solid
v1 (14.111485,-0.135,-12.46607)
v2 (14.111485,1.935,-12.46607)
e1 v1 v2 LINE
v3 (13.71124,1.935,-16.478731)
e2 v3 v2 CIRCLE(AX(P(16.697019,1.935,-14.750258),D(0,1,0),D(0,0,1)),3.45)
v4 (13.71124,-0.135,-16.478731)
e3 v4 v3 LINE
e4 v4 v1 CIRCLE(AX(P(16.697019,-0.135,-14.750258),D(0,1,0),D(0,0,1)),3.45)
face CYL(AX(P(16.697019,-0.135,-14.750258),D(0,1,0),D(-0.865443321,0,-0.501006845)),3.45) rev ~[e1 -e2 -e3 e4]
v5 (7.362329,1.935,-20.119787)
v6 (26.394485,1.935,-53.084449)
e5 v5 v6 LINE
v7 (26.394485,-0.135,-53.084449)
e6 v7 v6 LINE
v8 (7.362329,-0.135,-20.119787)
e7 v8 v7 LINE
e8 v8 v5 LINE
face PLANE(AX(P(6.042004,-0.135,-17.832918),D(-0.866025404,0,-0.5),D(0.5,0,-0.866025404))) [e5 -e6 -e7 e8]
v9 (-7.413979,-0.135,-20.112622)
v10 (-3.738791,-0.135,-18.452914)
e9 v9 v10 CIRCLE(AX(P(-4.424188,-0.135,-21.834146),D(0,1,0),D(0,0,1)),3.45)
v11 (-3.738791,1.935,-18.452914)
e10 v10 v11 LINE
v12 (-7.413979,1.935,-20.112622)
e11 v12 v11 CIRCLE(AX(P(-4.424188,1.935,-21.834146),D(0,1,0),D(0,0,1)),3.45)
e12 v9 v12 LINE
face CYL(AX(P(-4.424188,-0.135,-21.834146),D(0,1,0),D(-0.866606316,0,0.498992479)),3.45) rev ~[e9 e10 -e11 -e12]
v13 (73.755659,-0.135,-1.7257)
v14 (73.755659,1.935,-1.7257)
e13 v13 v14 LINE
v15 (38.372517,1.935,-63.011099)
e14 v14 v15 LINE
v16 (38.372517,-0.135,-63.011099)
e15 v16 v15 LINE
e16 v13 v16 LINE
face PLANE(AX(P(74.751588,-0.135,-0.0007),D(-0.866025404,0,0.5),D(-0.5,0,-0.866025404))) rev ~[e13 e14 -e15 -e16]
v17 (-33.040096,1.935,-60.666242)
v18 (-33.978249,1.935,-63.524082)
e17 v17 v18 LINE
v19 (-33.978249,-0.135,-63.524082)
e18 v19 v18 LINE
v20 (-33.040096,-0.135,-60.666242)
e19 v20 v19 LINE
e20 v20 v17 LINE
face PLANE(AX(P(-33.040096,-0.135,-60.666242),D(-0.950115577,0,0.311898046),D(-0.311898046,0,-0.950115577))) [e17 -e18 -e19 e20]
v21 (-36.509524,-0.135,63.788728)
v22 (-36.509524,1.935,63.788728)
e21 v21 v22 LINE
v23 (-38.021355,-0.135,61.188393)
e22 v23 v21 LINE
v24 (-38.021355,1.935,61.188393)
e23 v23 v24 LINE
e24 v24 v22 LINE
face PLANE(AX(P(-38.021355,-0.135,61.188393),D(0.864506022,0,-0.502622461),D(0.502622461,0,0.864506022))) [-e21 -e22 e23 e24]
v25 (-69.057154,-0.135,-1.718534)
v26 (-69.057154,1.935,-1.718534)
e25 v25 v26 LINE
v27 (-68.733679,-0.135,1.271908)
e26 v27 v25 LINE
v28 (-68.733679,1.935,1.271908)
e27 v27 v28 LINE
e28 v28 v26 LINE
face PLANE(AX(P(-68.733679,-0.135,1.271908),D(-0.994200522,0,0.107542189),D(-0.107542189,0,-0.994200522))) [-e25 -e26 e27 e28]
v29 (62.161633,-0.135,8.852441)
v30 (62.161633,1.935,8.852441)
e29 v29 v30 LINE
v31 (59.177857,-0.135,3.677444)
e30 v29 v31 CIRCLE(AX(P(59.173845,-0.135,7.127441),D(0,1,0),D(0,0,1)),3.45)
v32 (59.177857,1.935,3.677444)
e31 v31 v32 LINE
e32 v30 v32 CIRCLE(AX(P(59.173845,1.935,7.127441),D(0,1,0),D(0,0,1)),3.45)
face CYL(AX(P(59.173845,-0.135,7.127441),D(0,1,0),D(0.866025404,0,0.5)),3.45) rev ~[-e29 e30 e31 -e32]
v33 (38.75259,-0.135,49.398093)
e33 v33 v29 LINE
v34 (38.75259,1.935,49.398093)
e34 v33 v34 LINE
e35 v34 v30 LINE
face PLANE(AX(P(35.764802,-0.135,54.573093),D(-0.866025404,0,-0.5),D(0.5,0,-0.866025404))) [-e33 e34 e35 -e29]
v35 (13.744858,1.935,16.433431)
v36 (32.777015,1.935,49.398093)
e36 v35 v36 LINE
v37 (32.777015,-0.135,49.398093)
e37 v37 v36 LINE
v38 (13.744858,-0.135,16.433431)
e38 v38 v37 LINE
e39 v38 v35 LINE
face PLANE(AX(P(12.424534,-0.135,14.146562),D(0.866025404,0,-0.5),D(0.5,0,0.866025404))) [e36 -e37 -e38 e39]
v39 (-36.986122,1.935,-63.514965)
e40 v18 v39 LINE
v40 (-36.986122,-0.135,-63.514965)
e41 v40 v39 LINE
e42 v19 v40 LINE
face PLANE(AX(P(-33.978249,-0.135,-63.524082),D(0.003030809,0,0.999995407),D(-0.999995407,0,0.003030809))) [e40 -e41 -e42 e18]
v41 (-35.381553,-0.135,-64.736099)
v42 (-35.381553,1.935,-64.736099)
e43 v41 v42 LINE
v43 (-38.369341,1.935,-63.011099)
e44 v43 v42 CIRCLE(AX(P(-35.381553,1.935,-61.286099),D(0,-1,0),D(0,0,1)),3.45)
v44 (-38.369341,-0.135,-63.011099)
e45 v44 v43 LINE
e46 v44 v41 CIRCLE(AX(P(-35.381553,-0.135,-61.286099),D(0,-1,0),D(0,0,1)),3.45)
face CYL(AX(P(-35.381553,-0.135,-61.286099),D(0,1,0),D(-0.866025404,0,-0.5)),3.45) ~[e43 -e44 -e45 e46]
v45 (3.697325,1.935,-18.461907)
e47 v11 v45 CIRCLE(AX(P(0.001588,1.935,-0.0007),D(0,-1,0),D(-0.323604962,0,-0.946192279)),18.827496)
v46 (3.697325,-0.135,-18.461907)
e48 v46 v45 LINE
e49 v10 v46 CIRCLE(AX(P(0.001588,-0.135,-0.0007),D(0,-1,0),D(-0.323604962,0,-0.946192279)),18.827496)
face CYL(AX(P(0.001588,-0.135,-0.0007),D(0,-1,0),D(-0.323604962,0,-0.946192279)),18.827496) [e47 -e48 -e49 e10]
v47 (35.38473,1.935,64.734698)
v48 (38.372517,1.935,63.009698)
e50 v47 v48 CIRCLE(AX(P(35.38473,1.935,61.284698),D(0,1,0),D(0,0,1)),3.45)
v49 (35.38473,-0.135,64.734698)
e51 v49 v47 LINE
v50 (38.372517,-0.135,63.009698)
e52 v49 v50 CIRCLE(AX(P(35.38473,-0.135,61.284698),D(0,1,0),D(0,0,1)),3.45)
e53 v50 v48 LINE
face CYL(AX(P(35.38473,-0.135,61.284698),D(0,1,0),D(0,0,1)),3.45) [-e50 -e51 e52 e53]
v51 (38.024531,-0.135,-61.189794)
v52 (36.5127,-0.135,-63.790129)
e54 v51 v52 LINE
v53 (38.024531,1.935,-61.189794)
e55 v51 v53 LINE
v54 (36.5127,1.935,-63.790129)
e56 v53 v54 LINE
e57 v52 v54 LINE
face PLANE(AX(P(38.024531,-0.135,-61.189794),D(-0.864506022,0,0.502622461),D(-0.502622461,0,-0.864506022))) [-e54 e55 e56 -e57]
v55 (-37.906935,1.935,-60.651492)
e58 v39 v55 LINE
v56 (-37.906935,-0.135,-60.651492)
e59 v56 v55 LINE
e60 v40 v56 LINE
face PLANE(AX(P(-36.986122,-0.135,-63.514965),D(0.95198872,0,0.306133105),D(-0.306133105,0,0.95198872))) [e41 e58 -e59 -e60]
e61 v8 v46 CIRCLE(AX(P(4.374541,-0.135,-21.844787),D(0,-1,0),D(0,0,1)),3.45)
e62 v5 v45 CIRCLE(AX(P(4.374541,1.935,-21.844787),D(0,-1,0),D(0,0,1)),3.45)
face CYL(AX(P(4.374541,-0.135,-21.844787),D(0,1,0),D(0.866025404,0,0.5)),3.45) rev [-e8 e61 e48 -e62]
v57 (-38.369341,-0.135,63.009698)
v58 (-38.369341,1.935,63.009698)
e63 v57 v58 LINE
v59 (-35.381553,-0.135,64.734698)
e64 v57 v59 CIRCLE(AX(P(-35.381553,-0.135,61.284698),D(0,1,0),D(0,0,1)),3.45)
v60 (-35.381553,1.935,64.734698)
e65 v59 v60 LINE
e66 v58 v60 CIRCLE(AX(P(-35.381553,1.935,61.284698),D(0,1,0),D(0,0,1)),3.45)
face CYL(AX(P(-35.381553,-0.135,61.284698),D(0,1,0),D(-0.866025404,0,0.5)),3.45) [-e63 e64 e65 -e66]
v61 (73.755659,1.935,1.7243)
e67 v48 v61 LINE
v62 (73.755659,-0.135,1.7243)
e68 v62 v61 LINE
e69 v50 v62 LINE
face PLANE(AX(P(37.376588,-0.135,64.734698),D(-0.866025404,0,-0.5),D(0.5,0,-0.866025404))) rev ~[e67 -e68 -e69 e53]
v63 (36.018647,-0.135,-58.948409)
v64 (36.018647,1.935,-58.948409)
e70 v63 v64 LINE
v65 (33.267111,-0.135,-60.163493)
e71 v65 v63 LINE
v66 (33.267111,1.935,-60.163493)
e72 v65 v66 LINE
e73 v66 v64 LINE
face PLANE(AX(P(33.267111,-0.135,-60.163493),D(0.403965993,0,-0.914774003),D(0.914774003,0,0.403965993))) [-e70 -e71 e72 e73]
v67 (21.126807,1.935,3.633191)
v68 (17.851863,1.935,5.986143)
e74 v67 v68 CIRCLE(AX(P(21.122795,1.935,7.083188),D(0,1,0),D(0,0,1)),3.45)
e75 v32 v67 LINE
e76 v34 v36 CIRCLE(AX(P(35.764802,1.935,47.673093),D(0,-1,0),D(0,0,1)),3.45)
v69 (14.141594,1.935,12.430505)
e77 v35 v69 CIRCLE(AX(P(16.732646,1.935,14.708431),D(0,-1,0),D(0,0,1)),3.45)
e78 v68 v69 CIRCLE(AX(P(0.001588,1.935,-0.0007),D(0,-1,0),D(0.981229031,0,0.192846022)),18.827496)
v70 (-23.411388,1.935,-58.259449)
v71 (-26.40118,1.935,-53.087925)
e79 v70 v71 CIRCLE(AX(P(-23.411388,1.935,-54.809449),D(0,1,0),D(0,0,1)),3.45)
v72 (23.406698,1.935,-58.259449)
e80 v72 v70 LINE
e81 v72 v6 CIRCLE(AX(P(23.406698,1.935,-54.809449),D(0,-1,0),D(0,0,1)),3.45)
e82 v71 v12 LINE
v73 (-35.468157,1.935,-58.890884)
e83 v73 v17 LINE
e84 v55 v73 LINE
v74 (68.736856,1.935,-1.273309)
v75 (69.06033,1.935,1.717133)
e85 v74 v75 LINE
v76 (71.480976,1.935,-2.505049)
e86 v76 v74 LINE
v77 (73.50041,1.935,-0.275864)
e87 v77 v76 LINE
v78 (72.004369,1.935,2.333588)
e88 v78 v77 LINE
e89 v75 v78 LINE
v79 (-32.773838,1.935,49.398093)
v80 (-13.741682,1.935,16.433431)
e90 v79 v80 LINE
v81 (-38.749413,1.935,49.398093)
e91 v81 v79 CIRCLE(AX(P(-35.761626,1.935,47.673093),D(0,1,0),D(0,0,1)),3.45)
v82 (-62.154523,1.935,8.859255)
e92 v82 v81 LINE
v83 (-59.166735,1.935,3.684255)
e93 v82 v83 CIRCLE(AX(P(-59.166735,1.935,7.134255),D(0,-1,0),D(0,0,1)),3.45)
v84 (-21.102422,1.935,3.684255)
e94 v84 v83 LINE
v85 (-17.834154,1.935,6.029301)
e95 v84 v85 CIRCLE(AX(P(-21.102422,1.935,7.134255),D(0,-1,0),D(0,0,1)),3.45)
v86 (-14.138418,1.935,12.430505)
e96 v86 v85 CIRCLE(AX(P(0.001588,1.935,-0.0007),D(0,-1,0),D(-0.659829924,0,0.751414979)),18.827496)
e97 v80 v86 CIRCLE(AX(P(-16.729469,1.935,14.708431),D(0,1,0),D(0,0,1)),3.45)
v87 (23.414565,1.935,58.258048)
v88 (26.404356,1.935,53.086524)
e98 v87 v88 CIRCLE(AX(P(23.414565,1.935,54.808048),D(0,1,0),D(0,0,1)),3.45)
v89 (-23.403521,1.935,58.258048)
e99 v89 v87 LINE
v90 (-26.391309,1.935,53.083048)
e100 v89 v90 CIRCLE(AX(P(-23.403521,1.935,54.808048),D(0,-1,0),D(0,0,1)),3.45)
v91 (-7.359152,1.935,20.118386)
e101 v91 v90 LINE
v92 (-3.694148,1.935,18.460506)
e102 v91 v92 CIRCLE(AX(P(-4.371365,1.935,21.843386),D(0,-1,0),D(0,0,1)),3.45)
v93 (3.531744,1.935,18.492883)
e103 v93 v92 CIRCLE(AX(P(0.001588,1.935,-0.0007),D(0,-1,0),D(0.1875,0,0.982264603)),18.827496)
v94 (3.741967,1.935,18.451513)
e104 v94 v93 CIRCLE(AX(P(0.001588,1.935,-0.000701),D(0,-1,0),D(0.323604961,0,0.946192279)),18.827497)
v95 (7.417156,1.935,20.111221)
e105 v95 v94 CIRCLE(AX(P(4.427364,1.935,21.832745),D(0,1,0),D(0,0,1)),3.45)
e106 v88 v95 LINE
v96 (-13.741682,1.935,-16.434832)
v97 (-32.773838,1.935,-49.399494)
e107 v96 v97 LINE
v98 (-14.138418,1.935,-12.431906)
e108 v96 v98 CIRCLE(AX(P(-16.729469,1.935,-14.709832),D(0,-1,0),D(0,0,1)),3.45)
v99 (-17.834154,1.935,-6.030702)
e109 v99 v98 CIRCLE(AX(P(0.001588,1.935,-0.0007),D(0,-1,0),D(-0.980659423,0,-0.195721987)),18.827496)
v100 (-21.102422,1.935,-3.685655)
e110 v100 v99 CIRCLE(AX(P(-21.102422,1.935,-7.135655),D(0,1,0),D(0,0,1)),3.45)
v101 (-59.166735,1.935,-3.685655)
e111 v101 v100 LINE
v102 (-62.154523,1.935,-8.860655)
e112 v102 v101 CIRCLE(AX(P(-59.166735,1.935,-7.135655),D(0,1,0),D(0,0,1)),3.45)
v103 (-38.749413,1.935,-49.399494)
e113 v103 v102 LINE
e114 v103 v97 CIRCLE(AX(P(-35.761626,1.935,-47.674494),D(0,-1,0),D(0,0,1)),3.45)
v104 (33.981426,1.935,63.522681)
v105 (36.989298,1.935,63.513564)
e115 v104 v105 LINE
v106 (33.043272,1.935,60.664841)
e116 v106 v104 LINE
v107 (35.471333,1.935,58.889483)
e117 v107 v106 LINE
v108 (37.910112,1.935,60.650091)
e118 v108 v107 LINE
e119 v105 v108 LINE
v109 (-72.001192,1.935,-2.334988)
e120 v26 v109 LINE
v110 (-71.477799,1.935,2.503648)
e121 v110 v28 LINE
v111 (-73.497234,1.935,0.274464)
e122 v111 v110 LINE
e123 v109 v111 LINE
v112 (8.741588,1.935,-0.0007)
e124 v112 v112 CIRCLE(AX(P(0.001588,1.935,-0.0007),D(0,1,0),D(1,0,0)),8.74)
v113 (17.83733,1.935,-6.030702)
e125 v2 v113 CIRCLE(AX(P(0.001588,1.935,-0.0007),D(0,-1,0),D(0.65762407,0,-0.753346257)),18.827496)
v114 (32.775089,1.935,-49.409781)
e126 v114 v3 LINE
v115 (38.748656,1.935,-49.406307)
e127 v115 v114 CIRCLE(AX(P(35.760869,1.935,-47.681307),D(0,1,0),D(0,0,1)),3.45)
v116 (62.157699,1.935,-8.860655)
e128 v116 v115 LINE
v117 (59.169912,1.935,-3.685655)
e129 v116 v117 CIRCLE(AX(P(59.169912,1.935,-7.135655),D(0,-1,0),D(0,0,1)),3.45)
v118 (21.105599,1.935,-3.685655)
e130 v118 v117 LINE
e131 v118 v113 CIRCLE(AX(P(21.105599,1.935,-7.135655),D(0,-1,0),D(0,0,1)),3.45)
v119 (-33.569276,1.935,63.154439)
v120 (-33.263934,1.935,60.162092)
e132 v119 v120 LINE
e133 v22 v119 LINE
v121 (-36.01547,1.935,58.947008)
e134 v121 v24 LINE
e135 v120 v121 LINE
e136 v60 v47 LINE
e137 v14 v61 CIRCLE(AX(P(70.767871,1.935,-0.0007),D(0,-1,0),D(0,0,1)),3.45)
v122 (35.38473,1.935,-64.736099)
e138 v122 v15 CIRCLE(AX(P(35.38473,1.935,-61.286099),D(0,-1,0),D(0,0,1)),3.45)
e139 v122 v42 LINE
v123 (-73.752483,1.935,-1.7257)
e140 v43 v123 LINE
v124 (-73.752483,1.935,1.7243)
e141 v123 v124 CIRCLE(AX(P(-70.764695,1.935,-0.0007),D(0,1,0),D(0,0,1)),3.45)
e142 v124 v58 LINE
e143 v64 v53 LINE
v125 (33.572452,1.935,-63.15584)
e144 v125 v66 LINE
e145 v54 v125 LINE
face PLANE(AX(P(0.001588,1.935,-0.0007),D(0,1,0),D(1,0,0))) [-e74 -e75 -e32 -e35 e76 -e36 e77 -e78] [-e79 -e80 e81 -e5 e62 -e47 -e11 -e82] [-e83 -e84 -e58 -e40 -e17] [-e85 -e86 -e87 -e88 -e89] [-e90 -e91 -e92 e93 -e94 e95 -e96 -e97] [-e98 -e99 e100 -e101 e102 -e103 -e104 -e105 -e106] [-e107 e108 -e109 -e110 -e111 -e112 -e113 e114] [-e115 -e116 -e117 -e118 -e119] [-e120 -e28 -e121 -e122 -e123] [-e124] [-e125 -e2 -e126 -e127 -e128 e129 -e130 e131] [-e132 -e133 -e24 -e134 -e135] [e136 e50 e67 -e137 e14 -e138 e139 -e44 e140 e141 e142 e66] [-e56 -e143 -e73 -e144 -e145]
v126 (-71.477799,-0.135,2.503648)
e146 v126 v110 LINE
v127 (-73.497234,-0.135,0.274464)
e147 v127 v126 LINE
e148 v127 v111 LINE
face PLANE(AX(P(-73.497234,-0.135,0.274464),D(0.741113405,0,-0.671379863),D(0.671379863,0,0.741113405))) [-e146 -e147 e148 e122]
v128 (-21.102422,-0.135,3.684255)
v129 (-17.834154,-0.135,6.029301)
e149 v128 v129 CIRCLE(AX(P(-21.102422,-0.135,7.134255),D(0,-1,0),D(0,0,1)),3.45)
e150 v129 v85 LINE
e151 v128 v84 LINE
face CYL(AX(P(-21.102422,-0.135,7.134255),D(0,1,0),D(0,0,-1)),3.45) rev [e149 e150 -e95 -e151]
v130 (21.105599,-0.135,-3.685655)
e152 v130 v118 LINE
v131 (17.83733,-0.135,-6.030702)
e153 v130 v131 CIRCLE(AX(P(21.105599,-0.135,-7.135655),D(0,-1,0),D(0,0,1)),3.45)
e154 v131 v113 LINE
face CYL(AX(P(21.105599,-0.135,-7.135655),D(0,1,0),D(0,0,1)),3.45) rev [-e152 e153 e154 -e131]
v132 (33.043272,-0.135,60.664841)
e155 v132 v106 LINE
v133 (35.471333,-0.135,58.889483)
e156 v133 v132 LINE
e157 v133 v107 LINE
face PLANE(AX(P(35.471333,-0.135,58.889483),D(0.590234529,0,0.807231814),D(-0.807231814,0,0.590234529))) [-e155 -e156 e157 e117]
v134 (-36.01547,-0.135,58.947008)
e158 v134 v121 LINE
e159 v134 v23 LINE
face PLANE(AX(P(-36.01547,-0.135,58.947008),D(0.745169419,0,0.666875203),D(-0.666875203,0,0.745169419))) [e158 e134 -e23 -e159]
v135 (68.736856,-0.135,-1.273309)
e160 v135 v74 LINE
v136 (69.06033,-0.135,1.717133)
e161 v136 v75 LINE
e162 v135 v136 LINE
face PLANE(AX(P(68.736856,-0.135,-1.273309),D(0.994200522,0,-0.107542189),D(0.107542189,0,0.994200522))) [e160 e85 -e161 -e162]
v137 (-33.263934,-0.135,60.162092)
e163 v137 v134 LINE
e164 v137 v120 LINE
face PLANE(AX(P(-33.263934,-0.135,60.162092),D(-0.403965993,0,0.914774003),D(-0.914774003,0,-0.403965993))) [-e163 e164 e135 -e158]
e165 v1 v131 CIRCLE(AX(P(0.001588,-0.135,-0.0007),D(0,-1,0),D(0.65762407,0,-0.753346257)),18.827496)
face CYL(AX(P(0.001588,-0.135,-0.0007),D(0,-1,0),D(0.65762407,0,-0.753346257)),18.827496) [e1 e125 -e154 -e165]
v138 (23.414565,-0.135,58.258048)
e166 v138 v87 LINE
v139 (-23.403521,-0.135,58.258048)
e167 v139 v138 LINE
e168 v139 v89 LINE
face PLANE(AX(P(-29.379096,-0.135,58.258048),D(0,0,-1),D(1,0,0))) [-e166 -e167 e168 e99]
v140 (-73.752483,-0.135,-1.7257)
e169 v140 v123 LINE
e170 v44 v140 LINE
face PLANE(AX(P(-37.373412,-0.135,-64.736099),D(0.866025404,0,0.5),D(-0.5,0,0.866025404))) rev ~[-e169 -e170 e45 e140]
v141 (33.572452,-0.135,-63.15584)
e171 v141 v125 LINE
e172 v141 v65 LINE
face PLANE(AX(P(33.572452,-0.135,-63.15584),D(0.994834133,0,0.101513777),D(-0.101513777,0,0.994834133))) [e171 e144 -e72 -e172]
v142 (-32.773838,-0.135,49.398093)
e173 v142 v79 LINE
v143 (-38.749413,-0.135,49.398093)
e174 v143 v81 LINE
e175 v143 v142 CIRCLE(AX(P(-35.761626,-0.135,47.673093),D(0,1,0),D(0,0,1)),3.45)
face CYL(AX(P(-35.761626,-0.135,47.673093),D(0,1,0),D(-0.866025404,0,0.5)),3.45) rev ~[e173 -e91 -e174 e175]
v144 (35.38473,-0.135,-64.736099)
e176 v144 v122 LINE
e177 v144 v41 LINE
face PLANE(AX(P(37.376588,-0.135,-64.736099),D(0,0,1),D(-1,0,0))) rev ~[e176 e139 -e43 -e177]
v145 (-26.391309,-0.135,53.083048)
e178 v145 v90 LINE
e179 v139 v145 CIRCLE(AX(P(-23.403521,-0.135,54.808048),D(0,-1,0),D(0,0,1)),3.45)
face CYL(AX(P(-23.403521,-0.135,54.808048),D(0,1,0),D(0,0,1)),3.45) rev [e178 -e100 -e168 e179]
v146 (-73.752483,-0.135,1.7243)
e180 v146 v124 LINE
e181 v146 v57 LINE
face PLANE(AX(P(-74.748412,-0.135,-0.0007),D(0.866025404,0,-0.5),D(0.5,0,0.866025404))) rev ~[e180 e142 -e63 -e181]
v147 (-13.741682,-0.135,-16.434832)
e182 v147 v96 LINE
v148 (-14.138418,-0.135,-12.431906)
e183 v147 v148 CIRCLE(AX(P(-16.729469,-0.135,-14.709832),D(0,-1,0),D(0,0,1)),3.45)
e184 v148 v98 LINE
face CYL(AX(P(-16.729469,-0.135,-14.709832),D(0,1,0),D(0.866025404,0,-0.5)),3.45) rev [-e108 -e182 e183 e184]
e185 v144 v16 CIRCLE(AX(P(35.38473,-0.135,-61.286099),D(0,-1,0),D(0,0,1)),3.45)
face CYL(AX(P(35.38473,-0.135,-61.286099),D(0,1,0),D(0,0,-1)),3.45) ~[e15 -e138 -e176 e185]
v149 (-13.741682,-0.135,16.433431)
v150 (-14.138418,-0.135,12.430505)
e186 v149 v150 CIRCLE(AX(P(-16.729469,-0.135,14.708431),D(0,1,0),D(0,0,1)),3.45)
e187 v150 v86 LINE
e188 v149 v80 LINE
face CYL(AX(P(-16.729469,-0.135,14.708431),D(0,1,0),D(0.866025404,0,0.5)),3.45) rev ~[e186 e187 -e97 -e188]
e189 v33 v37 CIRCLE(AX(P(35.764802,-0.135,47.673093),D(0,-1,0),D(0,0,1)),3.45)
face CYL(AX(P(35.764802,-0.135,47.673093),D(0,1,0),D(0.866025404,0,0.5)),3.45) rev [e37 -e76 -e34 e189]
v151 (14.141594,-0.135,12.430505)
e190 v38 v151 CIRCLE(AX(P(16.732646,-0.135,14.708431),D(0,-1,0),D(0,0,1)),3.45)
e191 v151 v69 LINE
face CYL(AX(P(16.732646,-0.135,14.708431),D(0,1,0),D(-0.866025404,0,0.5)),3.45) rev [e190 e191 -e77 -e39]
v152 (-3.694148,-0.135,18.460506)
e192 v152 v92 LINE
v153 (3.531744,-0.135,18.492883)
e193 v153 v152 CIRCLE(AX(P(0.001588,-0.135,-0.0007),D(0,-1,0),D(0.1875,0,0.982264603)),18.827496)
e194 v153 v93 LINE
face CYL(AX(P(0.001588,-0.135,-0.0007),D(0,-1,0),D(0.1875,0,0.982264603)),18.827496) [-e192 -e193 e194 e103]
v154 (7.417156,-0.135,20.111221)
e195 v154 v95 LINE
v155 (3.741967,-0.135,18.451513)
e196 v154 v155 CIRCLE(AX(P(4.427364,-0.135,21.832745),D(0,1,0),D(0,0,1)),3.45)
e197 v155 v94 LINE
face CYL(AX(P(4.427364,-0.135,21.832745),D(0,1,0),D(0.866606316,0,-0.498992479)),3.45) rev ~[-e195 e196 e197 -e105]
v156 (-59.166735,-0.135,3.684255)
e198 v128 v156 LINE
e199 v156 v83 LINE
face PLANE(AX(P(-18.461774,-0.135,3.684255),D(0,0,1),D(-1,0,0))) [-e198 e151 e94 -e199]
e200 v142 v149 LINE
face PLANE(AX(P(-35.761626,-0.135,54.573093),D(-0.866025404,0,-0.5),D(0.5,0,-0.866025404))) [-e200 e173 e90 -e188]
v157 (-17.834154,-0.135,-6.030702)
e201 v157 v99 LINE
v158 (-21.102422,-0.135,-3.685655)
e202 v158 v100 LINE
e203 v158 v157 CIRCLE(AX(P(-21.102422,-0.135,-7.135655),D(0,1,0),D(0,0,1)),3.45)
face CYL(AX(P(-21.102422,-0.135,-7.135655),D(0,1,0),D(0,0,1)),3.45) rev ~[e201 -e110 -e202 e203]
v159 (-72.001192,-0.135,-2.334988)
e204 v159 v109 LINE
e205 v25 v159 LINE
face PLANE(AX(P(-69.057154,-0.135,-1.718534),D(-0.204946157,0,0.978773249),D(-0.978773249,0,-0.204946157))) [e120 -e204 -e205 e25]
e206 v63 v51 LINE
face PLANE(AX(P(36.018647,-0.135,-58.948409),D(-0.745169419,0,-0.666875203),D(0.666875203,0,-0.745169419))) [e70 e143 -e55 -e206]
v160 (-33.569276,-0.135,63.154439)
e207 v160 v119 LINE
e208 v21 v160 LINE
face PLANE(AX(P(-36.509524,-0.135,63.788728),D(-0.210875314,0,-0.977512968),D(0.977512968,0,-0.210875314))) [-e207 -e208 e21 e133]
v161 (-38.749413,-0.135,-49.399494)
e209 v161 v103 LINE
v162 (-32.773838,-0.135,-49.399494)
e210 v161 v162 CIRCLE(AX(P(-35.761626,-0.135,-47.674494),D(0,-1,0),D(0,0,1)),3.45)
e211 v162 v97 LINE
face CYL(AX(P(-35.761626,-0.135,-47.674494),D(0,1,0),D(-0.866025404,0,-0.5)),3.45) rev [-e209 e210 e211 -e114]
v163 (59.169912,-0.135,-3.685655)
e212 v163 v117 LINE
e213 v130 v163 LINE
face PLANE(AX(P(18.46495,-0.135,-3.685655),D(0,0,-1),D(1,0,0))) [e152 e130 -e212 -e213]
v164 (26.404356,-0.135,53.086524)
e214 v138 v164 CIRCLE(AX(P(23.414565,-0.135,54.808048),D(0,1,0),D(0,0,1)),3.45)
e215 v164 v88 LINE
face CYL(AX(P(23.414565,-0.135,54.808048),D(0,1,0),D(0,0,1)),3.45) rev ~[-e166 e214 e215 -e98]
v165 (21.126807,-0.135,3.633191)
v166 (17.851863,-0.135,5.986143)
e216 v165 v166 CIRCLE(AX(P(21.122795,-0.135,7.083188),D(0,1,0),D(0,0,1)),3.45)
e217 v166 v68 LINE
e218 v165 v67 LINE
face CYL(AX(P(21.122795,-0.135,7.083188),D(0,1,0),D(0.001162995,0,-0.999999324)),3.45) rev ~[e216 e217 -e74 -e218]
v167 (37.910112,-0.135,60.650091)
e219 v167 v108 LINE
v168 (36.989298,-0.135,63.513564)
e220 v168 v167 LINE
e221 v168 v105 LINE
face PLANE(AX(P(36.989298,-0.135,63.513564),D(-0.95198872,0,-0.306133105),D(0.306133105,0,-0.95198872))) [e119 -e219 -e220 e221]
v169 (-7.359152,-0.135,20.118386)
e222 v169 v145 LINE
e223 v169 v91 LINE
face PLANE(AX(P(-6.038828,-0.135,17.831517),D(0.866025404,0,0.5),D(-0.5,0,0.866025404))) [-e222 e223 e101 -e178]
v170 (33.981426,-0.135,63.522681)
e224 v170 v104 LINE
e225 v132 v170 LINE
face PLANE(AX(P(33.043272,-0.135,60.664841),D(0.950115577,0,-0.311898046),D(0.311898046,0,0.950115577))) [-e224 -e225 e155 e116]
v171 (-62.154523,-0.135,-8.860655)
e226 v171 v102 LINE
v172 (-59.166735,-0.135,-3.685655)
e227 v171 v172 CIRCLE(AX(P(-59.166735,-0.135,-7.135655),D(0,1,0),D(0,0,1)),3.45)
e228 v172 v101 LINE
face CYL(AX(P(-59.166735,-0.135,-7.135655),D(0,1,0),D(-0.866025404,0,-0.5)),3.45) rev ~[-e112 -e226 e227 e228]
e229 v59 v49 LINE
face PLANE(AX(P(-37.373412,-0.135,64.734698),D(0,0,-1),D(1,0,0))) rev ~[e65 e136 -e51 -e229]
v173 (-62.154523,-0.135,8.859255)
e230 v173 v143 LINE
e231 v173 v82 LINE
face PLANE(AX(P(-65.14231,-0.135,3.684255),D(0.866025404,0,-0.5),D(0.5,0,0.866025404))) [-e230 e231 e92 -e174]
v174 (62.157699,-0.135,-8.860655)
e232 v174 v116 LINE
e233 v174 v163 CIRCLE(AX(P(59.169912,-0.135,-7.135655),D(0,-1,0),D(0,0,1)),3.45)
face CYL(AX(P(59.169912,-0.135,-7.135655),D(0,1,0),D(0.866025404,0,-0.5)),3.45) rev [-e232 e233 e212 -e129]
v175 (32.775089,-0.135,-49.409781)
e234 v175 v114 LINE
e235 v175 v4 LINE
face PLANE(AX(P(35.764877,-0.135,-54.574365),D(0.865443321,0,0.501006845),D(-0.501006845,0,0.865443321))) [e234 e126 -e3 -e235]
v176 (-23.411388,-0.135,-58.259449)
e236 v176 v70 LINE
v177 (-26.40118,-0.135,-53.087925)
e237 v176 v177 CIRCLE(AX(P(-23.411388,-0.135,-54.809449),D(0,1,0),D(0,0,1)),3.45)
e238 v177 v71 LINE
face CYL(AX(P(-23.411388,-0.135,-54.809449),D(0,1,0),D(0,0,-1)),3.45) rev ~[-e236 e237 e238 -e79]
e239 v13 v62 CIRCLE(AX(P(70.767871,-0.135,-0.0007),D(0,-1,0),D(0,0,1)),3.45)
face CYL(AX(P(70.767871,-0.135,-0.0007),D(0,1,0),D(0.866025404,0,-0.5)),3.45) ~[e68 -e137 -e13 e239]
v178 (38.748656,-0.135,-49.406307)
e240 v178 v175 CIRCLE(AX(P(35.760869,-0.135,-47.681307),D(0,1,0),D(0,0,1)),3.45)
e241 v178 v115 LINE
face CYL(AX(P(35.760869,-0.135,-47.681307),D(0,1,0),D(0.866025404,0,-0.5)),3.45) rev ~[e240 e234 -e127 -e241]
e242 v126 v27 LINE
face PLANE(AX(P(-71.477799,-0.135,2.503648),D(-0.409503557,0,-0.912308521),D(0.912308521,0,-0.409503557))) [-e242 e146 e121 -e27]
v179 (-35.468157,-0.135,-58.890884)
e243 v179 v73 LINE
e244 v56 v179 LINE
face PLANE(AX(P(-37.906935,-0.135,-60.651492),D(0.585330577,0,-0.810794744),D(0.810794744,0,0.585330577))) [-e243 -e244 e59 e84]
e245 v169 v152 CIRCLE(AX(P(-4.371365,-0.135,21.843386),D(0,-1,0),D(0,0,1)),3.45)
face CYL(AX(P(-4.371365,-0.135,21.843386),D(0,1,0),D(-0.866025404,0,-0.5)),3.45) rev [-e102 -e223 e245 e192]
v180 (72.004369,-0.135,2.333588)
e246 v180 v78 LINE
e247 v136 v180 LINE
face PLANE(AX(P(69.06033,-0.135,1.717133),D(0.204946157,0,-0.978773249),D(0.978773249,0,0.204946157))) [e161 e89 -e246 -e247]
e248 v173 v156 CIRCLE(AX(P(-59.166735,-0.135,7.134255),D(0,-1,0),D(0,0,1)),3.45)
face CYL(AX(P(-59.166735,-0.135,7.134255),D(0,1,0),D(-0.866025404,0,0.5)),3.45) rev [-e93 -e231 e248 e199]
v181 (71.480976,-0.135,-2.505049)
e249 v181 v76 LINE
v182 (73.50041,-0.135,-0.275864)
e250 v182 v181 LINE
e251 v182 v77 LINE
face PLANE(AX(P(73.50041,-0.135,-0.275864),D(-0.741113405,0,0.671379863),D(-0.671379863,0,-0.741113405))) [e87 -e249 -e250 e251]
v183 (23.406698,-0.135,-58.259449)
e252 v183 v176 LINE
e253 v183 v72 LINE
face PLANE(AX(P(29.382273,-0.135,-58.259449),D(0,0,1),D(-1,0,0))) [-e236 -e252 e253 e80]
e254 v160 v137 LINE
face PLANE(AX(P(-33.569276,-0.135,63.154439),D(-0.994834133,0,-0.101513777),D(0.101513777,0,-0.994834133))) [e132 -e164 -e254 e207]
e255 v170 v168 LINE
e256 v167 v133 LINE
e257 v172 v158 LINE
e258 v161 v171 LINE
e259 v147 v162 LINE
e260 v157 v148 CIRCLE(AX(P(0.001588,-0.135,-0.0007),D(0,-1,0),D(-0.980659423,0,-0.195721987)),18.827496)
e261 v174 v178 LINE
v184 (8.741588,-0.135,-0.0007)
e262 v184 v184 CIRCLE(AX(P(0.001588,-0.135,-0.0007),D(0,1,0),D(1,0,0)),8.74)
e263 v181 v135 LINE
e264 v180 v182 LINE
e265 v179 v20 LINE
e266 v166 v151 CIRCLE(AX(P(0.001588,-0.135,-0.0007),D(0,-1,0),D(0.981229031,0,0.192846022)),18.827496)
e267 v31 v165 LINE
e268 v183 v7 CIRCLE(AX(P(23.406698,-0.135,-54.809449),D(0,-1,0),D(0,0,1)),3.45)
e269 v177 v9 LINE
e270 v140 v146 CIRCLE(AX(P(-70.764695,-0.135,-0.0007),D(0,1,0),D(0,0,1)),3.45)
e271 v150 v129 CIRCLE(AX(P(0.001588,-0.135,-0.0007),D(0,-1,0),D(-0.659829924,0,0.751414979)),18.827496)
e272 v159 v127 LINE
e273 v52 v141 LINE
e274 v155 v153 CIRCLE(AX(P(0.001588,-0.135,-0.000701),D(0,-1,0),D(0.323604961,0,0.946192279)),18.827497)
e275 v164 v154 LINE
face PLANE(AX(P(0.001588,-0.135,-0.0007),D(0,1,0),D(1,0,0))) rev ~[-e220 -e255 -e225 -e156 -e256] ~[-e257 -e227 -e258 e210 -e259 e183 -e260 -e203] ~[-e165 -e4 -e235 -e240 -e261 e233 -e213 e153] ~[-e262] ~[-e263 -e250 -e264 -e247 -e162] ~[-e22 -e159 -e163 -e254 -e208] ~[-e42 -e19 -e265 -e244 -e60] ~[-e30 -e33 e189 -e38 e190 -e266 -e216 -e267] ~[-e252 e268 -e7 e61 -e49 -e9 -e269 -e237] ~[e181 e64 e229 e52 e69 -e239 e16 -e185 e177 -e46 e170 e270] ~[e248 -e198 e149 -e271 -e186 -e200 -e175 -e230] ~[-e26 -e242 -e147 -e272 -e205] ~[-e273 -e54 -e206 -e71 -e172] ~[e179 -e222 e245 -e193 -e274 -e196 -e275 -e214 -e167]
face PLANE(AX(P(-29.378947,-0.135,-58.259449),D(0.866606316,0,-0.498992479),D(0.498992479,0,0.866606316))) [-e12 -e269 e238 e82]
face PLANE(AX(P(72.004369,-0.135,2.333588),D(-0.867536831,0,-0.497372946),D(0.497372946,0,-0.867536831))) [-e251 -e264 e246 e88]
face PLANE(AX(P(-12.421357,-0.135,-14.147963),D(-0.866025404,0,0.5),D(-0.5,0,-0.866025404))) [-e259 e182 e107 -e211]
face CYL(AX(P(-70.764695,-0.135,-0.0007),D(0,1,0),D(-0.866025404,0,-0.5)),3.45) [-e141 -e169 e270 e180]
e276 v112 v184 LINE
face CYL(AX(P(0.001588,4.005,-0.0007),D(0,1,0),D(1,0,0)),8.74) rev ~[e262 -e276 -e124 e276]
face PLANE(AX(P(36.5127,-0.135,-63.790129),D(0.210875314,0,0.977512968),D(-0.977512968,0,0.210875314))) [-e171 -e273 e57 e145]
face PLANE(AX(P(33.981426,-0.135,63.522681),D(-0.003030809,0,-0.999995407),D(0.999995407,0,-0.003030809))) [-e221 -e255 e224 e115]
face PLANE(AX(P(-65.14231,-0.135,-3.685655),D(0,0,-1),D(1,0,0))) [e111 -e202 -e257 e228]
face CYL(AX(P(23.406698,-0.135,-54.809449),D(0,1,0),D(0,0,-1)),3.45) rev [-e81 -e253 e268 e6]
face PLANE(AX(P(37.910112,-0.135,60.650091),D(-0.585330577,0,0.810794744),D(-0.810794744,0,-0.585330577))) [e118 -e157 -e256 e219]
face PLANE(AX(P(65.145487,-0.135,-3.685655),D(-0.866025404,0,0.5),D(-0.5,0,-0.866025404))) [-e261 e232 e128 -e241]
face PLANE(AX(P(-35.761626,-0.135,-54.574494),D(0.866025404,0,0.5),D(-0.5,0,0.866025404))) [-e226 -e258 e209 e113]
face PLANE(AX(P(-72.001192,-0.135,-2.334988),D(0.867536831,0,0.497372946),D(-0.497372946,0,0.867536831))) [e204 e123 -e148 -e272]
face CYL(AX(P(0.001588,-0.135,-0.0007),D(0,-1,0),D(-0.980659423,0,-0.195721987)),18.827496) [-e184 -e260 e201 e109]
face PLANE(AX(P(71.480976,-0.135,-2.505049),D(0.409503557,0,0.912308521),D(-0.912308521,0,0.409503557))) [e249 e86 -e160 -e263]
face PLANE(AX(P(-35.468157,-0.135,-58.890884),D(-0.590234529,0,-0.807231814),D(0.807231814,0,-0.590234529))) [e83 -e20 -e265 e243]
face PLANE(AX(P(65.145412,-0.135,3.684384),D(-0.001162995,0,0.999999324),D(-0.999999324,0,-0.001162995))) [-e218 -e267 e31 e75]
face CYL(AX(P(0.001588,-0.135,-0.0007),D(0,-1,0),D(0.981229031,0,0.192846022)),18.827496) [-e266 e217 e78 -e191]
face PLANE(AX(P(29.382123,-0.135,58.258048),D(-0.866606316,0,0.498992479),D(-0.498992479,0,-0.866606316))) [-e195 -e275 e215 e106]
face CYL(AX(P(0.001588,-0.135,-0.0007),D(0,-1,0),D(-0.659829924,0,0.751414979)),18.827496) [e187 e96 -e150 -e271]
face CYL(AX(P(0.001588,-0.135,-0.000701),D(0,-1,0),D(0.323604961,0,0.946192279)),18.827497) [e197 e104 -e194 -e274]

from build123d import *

# Parameters (mm, degrees)
BOSS_EXTRUDE1_DEPTH = 1.8
FILLET1_R           = 3
FILLET2_R           = 3
SKETCH3_R           = 7.6
CUT_EXTRUDE1_DEPTH  = 10
SCALE1_SCALE        = 1.15


with BuildPart() as part:
    # Sketch1 → Boss-Extrude1 (new body)
    with BuildSketch(Plane(origin=(0, 0, 0), x_dir=(1, 0, 0), z_dir=(0, 1, 0))):
        Polygon((-32.5, 56.291651246), (-65, 0), (-32.5, -56.291651246), (32.5, -56.291651246), (65, 0), (32.5, 56.291651246), align=None)
        with BuildLine():
            Line((-31.098446917, 47.455472674), (-56.646868343, 3.204308711))
            Line((-56.646868343, 3.204308711), (-16.055097208, 3.204308711))
            ThreePointArc((-16.055097208, 3.204308711), (-14.178339307, 8.185868015), (-10.802561349, 12.301967686))
            Line((-10.802561349, 12.301967686), (-31.098446917, 47.455472674))
        make_face(mode=Mode.SUBTRACT)
        with BuildLine():
            Line((-56.646868343, -3.204308711), (-31.098446917, -47.455472674))
            Line((-31.098446917, -47.455472674), (-10.802561349, -12.301967686))
            ThreePointArc((-10.802561349, -12.301967686), (-14.178339307, -8.185868015), (-16.055097208, -3.204308711))
            Line((-16.055097208, -3.204308711), (-56.646868343, -3.204308711))
        make_face(mode=Mode.SUBTRACT)
        with BuildLine():
            Line((-25.548421426, -50.659781385), (3, -50.659781385))
            Line((3, -50.659781385), (25.548291416, -50.659781385))
            Line((25.548291416, -50.659781385), (5.29797501, -15.490810226))
            ThreePointArc((5.29797501, -15.490810226), (4.194244938, -15.825360977), (3.069700506, -16.08137679))
            ThreePointArc((3.069700506, -16.08137679), (-1.128661889, -16.332784913), (-5.252535858, -15.506276397))
            Line((-5.252535858, -15.506276397), (-25.548421426, -50.659781385))
        make_face(mode=Mode.SUBTRACT)
        with BuildLine():
            Line((31.098446917, -47.455472674), (56.646803338, -3.204421303))
            Line((56.646803338, -3.204421303), (16.064422686, -3.157224166))
            ThreePointArc((16.064422686, -3.157224166), (14.190323862, -8.165074976), (10.802561349, -12.301967686))
            Line((10.802561349, -12.301967686), (31.098446917, -47.455472674))
        make_face(mode=Mode.SUBTRACT)
        with BuildLine():
            Line((56.646868343, 3.204308711), (31.098511922, 47.455360082))
            Line((31.098511922, 47.455360082), (10.766447676, 12.33358606))
            ThreePointArc((10.766447676, 12.33358606), (14.166324284, 8.206643464), (16.055097208, 3.204308711))
            Line((16.055097208, 3.204308711), (56.646868343, 3.204308711))
        make_face(mode=Mode.SUBTRACT)
        with BuildLine():
            Line((25.548421426, 50.659781385), (-25.548291416, 50.659781385))
            Line((-25.548291416, 50.659781385), (-5.29797501, 15.490810226))
            ThreePointArc((-5.29797501, 15.490810226), (-0.023999578, 16.37171844), (5.252535858, 15.506276397))
            Line((5.252535858, 15.506276397), (25.548421426, 50.659781385))
        make_face(mode=Mode.SUBTRACT)
        Polygon((28.926541222, 52.315471461), (31.319181202, 51.258876955), (33.063428707, 53.207907141), (31.748792971, 55.469068546), (29.192055897, 54.917512964), align=None, mode=Mode.SUBTRACT)
        Polygon((-30.843256685, 51.208855273), (-28.731899012, 52.752645025), (-29.547684912, 55.237722767), (-32.163226, 55.229795525), (-32.963933391, 52.739818478), align=None, mode=Mode.SUBTRACT)
        Polygon((59.769797908, 1.106616188), (60.051080214, -1.493768069), (62.61111362, -2.029815626), (63.912018971, 0.239273021), (62.155989288, 2.177694486), align=None, mode=Mode.SUBTRACT)
        Polygon((30.843256685, -51.208855273), (28.731899012, -52.752645025), (29.547684912, -55.237722767), (32.163226, -55.229795525), (32.963933391, -52.739818478), align=None, mode=Mode.SUBTRACT)
        Polygon((-28.926541222, -52.315471461), (-31.319181202, -51.258876955), (-33.063428707, -53.207907141), (-31.748792971, -55.469068546), (-29.192055897, -54.917512964), align=None, mode=Mode.SUBTRACT)
        Polygon((-59.769797908, -1.106616188), (-60.051080214, 1.493768069), (-62.61111362, 2.029815626), (-63.912018971, -0.239273021), (-62.155989288, -2.177694486), align=None, mode=Mode.SUBTRACT)
    extrude(amount=BOSS_EXTRUDE1_DEPTH)

    # Fillet1
    fillet1_edges = [part.edges().sort_by_distance(p)[0] for p in [
        (32.5, 0.9, -56.291651246),
        (65, 0.9, 0),
        (32.5, 0.9, 56.291651246),
        (-32.5, 0.9, 56.291651246),
        (-65, 0.9, 0),
        (-32.5, 0.9, -56.291651246),
    ]]
    fillet(fillet1_edges, radius=FILLET1_R)

    # Fillet2
    fillet2_edges = [part.edges().sort_by_distance(p)[0] for p in [
        (5.29797501, 0.9, 15.490810226),
        (-5.252535858, 0.9, 15.506276397),
        (-25.548421426, 0.9, 50.659781385),
        (25.548291416, 0.9, 50.659781385),
        (-25.548291416, 0.9, -50.659781385),
        (-5.29797501, 0.9, -15.490810226),
        (5.252535858, 0.9, -15.506276397),
        (25.548421426, 0.9, -50.659781385),
        (31.098511922, 0.9, -47.455360082),
        (10.766447676, 0.9, -12.33358606),
        (16.055097208, 0.9, -3.204308711),
        (56.646868343, 0.9, -3.204308711),
        (56.646803338, 0.9, 3.204421303),
        (16.064422686, 0.9, 3.157224166),
        (10.802561349, 0.9, 12.301967686),
        (31.098446917, 0.9, 47.455472674),
        (-31.098446917, 0.9, 47.455472674),
        (-10.802561349, 0.9, 12.301967686),
        (-16.055097208, 0.9, 3.204308711),
        (-56.646868343, 0.9, 3.204308711),
        (-10.802561349, 0.9, -12.301967686),
        (-31.098446917, 0.9, -47.455472674),
        (-56.646868343, 0.9, -3.204308711),
        (-16.055097208, 0.9, -3.204308711),
    ]]
    fillet(fillet2_edges, radius=FILLET2_R)

    # Sketch3 → Cut-Extrude1 (cut)
    with BuildSketch(Plane(origin=(0, 3.6, 0), x_dir=(1, 0, 0), z_dir=(0, 1, 0))):
        Circle(SKETCH3_R)
    extrude(amount=-CUT_EXTRUDE1_DEPTH, mode=Mode.SUBTRACT)


with BuildPart() as part_1:
    # Scale1: scaled about (-0.010587945, 0.9, 0.004669606)
    add(part.part.scale(SCALE1_SCALE).moved(Location((0.001588192, -0.135, -0.000700441))))


solid = part_1.part
